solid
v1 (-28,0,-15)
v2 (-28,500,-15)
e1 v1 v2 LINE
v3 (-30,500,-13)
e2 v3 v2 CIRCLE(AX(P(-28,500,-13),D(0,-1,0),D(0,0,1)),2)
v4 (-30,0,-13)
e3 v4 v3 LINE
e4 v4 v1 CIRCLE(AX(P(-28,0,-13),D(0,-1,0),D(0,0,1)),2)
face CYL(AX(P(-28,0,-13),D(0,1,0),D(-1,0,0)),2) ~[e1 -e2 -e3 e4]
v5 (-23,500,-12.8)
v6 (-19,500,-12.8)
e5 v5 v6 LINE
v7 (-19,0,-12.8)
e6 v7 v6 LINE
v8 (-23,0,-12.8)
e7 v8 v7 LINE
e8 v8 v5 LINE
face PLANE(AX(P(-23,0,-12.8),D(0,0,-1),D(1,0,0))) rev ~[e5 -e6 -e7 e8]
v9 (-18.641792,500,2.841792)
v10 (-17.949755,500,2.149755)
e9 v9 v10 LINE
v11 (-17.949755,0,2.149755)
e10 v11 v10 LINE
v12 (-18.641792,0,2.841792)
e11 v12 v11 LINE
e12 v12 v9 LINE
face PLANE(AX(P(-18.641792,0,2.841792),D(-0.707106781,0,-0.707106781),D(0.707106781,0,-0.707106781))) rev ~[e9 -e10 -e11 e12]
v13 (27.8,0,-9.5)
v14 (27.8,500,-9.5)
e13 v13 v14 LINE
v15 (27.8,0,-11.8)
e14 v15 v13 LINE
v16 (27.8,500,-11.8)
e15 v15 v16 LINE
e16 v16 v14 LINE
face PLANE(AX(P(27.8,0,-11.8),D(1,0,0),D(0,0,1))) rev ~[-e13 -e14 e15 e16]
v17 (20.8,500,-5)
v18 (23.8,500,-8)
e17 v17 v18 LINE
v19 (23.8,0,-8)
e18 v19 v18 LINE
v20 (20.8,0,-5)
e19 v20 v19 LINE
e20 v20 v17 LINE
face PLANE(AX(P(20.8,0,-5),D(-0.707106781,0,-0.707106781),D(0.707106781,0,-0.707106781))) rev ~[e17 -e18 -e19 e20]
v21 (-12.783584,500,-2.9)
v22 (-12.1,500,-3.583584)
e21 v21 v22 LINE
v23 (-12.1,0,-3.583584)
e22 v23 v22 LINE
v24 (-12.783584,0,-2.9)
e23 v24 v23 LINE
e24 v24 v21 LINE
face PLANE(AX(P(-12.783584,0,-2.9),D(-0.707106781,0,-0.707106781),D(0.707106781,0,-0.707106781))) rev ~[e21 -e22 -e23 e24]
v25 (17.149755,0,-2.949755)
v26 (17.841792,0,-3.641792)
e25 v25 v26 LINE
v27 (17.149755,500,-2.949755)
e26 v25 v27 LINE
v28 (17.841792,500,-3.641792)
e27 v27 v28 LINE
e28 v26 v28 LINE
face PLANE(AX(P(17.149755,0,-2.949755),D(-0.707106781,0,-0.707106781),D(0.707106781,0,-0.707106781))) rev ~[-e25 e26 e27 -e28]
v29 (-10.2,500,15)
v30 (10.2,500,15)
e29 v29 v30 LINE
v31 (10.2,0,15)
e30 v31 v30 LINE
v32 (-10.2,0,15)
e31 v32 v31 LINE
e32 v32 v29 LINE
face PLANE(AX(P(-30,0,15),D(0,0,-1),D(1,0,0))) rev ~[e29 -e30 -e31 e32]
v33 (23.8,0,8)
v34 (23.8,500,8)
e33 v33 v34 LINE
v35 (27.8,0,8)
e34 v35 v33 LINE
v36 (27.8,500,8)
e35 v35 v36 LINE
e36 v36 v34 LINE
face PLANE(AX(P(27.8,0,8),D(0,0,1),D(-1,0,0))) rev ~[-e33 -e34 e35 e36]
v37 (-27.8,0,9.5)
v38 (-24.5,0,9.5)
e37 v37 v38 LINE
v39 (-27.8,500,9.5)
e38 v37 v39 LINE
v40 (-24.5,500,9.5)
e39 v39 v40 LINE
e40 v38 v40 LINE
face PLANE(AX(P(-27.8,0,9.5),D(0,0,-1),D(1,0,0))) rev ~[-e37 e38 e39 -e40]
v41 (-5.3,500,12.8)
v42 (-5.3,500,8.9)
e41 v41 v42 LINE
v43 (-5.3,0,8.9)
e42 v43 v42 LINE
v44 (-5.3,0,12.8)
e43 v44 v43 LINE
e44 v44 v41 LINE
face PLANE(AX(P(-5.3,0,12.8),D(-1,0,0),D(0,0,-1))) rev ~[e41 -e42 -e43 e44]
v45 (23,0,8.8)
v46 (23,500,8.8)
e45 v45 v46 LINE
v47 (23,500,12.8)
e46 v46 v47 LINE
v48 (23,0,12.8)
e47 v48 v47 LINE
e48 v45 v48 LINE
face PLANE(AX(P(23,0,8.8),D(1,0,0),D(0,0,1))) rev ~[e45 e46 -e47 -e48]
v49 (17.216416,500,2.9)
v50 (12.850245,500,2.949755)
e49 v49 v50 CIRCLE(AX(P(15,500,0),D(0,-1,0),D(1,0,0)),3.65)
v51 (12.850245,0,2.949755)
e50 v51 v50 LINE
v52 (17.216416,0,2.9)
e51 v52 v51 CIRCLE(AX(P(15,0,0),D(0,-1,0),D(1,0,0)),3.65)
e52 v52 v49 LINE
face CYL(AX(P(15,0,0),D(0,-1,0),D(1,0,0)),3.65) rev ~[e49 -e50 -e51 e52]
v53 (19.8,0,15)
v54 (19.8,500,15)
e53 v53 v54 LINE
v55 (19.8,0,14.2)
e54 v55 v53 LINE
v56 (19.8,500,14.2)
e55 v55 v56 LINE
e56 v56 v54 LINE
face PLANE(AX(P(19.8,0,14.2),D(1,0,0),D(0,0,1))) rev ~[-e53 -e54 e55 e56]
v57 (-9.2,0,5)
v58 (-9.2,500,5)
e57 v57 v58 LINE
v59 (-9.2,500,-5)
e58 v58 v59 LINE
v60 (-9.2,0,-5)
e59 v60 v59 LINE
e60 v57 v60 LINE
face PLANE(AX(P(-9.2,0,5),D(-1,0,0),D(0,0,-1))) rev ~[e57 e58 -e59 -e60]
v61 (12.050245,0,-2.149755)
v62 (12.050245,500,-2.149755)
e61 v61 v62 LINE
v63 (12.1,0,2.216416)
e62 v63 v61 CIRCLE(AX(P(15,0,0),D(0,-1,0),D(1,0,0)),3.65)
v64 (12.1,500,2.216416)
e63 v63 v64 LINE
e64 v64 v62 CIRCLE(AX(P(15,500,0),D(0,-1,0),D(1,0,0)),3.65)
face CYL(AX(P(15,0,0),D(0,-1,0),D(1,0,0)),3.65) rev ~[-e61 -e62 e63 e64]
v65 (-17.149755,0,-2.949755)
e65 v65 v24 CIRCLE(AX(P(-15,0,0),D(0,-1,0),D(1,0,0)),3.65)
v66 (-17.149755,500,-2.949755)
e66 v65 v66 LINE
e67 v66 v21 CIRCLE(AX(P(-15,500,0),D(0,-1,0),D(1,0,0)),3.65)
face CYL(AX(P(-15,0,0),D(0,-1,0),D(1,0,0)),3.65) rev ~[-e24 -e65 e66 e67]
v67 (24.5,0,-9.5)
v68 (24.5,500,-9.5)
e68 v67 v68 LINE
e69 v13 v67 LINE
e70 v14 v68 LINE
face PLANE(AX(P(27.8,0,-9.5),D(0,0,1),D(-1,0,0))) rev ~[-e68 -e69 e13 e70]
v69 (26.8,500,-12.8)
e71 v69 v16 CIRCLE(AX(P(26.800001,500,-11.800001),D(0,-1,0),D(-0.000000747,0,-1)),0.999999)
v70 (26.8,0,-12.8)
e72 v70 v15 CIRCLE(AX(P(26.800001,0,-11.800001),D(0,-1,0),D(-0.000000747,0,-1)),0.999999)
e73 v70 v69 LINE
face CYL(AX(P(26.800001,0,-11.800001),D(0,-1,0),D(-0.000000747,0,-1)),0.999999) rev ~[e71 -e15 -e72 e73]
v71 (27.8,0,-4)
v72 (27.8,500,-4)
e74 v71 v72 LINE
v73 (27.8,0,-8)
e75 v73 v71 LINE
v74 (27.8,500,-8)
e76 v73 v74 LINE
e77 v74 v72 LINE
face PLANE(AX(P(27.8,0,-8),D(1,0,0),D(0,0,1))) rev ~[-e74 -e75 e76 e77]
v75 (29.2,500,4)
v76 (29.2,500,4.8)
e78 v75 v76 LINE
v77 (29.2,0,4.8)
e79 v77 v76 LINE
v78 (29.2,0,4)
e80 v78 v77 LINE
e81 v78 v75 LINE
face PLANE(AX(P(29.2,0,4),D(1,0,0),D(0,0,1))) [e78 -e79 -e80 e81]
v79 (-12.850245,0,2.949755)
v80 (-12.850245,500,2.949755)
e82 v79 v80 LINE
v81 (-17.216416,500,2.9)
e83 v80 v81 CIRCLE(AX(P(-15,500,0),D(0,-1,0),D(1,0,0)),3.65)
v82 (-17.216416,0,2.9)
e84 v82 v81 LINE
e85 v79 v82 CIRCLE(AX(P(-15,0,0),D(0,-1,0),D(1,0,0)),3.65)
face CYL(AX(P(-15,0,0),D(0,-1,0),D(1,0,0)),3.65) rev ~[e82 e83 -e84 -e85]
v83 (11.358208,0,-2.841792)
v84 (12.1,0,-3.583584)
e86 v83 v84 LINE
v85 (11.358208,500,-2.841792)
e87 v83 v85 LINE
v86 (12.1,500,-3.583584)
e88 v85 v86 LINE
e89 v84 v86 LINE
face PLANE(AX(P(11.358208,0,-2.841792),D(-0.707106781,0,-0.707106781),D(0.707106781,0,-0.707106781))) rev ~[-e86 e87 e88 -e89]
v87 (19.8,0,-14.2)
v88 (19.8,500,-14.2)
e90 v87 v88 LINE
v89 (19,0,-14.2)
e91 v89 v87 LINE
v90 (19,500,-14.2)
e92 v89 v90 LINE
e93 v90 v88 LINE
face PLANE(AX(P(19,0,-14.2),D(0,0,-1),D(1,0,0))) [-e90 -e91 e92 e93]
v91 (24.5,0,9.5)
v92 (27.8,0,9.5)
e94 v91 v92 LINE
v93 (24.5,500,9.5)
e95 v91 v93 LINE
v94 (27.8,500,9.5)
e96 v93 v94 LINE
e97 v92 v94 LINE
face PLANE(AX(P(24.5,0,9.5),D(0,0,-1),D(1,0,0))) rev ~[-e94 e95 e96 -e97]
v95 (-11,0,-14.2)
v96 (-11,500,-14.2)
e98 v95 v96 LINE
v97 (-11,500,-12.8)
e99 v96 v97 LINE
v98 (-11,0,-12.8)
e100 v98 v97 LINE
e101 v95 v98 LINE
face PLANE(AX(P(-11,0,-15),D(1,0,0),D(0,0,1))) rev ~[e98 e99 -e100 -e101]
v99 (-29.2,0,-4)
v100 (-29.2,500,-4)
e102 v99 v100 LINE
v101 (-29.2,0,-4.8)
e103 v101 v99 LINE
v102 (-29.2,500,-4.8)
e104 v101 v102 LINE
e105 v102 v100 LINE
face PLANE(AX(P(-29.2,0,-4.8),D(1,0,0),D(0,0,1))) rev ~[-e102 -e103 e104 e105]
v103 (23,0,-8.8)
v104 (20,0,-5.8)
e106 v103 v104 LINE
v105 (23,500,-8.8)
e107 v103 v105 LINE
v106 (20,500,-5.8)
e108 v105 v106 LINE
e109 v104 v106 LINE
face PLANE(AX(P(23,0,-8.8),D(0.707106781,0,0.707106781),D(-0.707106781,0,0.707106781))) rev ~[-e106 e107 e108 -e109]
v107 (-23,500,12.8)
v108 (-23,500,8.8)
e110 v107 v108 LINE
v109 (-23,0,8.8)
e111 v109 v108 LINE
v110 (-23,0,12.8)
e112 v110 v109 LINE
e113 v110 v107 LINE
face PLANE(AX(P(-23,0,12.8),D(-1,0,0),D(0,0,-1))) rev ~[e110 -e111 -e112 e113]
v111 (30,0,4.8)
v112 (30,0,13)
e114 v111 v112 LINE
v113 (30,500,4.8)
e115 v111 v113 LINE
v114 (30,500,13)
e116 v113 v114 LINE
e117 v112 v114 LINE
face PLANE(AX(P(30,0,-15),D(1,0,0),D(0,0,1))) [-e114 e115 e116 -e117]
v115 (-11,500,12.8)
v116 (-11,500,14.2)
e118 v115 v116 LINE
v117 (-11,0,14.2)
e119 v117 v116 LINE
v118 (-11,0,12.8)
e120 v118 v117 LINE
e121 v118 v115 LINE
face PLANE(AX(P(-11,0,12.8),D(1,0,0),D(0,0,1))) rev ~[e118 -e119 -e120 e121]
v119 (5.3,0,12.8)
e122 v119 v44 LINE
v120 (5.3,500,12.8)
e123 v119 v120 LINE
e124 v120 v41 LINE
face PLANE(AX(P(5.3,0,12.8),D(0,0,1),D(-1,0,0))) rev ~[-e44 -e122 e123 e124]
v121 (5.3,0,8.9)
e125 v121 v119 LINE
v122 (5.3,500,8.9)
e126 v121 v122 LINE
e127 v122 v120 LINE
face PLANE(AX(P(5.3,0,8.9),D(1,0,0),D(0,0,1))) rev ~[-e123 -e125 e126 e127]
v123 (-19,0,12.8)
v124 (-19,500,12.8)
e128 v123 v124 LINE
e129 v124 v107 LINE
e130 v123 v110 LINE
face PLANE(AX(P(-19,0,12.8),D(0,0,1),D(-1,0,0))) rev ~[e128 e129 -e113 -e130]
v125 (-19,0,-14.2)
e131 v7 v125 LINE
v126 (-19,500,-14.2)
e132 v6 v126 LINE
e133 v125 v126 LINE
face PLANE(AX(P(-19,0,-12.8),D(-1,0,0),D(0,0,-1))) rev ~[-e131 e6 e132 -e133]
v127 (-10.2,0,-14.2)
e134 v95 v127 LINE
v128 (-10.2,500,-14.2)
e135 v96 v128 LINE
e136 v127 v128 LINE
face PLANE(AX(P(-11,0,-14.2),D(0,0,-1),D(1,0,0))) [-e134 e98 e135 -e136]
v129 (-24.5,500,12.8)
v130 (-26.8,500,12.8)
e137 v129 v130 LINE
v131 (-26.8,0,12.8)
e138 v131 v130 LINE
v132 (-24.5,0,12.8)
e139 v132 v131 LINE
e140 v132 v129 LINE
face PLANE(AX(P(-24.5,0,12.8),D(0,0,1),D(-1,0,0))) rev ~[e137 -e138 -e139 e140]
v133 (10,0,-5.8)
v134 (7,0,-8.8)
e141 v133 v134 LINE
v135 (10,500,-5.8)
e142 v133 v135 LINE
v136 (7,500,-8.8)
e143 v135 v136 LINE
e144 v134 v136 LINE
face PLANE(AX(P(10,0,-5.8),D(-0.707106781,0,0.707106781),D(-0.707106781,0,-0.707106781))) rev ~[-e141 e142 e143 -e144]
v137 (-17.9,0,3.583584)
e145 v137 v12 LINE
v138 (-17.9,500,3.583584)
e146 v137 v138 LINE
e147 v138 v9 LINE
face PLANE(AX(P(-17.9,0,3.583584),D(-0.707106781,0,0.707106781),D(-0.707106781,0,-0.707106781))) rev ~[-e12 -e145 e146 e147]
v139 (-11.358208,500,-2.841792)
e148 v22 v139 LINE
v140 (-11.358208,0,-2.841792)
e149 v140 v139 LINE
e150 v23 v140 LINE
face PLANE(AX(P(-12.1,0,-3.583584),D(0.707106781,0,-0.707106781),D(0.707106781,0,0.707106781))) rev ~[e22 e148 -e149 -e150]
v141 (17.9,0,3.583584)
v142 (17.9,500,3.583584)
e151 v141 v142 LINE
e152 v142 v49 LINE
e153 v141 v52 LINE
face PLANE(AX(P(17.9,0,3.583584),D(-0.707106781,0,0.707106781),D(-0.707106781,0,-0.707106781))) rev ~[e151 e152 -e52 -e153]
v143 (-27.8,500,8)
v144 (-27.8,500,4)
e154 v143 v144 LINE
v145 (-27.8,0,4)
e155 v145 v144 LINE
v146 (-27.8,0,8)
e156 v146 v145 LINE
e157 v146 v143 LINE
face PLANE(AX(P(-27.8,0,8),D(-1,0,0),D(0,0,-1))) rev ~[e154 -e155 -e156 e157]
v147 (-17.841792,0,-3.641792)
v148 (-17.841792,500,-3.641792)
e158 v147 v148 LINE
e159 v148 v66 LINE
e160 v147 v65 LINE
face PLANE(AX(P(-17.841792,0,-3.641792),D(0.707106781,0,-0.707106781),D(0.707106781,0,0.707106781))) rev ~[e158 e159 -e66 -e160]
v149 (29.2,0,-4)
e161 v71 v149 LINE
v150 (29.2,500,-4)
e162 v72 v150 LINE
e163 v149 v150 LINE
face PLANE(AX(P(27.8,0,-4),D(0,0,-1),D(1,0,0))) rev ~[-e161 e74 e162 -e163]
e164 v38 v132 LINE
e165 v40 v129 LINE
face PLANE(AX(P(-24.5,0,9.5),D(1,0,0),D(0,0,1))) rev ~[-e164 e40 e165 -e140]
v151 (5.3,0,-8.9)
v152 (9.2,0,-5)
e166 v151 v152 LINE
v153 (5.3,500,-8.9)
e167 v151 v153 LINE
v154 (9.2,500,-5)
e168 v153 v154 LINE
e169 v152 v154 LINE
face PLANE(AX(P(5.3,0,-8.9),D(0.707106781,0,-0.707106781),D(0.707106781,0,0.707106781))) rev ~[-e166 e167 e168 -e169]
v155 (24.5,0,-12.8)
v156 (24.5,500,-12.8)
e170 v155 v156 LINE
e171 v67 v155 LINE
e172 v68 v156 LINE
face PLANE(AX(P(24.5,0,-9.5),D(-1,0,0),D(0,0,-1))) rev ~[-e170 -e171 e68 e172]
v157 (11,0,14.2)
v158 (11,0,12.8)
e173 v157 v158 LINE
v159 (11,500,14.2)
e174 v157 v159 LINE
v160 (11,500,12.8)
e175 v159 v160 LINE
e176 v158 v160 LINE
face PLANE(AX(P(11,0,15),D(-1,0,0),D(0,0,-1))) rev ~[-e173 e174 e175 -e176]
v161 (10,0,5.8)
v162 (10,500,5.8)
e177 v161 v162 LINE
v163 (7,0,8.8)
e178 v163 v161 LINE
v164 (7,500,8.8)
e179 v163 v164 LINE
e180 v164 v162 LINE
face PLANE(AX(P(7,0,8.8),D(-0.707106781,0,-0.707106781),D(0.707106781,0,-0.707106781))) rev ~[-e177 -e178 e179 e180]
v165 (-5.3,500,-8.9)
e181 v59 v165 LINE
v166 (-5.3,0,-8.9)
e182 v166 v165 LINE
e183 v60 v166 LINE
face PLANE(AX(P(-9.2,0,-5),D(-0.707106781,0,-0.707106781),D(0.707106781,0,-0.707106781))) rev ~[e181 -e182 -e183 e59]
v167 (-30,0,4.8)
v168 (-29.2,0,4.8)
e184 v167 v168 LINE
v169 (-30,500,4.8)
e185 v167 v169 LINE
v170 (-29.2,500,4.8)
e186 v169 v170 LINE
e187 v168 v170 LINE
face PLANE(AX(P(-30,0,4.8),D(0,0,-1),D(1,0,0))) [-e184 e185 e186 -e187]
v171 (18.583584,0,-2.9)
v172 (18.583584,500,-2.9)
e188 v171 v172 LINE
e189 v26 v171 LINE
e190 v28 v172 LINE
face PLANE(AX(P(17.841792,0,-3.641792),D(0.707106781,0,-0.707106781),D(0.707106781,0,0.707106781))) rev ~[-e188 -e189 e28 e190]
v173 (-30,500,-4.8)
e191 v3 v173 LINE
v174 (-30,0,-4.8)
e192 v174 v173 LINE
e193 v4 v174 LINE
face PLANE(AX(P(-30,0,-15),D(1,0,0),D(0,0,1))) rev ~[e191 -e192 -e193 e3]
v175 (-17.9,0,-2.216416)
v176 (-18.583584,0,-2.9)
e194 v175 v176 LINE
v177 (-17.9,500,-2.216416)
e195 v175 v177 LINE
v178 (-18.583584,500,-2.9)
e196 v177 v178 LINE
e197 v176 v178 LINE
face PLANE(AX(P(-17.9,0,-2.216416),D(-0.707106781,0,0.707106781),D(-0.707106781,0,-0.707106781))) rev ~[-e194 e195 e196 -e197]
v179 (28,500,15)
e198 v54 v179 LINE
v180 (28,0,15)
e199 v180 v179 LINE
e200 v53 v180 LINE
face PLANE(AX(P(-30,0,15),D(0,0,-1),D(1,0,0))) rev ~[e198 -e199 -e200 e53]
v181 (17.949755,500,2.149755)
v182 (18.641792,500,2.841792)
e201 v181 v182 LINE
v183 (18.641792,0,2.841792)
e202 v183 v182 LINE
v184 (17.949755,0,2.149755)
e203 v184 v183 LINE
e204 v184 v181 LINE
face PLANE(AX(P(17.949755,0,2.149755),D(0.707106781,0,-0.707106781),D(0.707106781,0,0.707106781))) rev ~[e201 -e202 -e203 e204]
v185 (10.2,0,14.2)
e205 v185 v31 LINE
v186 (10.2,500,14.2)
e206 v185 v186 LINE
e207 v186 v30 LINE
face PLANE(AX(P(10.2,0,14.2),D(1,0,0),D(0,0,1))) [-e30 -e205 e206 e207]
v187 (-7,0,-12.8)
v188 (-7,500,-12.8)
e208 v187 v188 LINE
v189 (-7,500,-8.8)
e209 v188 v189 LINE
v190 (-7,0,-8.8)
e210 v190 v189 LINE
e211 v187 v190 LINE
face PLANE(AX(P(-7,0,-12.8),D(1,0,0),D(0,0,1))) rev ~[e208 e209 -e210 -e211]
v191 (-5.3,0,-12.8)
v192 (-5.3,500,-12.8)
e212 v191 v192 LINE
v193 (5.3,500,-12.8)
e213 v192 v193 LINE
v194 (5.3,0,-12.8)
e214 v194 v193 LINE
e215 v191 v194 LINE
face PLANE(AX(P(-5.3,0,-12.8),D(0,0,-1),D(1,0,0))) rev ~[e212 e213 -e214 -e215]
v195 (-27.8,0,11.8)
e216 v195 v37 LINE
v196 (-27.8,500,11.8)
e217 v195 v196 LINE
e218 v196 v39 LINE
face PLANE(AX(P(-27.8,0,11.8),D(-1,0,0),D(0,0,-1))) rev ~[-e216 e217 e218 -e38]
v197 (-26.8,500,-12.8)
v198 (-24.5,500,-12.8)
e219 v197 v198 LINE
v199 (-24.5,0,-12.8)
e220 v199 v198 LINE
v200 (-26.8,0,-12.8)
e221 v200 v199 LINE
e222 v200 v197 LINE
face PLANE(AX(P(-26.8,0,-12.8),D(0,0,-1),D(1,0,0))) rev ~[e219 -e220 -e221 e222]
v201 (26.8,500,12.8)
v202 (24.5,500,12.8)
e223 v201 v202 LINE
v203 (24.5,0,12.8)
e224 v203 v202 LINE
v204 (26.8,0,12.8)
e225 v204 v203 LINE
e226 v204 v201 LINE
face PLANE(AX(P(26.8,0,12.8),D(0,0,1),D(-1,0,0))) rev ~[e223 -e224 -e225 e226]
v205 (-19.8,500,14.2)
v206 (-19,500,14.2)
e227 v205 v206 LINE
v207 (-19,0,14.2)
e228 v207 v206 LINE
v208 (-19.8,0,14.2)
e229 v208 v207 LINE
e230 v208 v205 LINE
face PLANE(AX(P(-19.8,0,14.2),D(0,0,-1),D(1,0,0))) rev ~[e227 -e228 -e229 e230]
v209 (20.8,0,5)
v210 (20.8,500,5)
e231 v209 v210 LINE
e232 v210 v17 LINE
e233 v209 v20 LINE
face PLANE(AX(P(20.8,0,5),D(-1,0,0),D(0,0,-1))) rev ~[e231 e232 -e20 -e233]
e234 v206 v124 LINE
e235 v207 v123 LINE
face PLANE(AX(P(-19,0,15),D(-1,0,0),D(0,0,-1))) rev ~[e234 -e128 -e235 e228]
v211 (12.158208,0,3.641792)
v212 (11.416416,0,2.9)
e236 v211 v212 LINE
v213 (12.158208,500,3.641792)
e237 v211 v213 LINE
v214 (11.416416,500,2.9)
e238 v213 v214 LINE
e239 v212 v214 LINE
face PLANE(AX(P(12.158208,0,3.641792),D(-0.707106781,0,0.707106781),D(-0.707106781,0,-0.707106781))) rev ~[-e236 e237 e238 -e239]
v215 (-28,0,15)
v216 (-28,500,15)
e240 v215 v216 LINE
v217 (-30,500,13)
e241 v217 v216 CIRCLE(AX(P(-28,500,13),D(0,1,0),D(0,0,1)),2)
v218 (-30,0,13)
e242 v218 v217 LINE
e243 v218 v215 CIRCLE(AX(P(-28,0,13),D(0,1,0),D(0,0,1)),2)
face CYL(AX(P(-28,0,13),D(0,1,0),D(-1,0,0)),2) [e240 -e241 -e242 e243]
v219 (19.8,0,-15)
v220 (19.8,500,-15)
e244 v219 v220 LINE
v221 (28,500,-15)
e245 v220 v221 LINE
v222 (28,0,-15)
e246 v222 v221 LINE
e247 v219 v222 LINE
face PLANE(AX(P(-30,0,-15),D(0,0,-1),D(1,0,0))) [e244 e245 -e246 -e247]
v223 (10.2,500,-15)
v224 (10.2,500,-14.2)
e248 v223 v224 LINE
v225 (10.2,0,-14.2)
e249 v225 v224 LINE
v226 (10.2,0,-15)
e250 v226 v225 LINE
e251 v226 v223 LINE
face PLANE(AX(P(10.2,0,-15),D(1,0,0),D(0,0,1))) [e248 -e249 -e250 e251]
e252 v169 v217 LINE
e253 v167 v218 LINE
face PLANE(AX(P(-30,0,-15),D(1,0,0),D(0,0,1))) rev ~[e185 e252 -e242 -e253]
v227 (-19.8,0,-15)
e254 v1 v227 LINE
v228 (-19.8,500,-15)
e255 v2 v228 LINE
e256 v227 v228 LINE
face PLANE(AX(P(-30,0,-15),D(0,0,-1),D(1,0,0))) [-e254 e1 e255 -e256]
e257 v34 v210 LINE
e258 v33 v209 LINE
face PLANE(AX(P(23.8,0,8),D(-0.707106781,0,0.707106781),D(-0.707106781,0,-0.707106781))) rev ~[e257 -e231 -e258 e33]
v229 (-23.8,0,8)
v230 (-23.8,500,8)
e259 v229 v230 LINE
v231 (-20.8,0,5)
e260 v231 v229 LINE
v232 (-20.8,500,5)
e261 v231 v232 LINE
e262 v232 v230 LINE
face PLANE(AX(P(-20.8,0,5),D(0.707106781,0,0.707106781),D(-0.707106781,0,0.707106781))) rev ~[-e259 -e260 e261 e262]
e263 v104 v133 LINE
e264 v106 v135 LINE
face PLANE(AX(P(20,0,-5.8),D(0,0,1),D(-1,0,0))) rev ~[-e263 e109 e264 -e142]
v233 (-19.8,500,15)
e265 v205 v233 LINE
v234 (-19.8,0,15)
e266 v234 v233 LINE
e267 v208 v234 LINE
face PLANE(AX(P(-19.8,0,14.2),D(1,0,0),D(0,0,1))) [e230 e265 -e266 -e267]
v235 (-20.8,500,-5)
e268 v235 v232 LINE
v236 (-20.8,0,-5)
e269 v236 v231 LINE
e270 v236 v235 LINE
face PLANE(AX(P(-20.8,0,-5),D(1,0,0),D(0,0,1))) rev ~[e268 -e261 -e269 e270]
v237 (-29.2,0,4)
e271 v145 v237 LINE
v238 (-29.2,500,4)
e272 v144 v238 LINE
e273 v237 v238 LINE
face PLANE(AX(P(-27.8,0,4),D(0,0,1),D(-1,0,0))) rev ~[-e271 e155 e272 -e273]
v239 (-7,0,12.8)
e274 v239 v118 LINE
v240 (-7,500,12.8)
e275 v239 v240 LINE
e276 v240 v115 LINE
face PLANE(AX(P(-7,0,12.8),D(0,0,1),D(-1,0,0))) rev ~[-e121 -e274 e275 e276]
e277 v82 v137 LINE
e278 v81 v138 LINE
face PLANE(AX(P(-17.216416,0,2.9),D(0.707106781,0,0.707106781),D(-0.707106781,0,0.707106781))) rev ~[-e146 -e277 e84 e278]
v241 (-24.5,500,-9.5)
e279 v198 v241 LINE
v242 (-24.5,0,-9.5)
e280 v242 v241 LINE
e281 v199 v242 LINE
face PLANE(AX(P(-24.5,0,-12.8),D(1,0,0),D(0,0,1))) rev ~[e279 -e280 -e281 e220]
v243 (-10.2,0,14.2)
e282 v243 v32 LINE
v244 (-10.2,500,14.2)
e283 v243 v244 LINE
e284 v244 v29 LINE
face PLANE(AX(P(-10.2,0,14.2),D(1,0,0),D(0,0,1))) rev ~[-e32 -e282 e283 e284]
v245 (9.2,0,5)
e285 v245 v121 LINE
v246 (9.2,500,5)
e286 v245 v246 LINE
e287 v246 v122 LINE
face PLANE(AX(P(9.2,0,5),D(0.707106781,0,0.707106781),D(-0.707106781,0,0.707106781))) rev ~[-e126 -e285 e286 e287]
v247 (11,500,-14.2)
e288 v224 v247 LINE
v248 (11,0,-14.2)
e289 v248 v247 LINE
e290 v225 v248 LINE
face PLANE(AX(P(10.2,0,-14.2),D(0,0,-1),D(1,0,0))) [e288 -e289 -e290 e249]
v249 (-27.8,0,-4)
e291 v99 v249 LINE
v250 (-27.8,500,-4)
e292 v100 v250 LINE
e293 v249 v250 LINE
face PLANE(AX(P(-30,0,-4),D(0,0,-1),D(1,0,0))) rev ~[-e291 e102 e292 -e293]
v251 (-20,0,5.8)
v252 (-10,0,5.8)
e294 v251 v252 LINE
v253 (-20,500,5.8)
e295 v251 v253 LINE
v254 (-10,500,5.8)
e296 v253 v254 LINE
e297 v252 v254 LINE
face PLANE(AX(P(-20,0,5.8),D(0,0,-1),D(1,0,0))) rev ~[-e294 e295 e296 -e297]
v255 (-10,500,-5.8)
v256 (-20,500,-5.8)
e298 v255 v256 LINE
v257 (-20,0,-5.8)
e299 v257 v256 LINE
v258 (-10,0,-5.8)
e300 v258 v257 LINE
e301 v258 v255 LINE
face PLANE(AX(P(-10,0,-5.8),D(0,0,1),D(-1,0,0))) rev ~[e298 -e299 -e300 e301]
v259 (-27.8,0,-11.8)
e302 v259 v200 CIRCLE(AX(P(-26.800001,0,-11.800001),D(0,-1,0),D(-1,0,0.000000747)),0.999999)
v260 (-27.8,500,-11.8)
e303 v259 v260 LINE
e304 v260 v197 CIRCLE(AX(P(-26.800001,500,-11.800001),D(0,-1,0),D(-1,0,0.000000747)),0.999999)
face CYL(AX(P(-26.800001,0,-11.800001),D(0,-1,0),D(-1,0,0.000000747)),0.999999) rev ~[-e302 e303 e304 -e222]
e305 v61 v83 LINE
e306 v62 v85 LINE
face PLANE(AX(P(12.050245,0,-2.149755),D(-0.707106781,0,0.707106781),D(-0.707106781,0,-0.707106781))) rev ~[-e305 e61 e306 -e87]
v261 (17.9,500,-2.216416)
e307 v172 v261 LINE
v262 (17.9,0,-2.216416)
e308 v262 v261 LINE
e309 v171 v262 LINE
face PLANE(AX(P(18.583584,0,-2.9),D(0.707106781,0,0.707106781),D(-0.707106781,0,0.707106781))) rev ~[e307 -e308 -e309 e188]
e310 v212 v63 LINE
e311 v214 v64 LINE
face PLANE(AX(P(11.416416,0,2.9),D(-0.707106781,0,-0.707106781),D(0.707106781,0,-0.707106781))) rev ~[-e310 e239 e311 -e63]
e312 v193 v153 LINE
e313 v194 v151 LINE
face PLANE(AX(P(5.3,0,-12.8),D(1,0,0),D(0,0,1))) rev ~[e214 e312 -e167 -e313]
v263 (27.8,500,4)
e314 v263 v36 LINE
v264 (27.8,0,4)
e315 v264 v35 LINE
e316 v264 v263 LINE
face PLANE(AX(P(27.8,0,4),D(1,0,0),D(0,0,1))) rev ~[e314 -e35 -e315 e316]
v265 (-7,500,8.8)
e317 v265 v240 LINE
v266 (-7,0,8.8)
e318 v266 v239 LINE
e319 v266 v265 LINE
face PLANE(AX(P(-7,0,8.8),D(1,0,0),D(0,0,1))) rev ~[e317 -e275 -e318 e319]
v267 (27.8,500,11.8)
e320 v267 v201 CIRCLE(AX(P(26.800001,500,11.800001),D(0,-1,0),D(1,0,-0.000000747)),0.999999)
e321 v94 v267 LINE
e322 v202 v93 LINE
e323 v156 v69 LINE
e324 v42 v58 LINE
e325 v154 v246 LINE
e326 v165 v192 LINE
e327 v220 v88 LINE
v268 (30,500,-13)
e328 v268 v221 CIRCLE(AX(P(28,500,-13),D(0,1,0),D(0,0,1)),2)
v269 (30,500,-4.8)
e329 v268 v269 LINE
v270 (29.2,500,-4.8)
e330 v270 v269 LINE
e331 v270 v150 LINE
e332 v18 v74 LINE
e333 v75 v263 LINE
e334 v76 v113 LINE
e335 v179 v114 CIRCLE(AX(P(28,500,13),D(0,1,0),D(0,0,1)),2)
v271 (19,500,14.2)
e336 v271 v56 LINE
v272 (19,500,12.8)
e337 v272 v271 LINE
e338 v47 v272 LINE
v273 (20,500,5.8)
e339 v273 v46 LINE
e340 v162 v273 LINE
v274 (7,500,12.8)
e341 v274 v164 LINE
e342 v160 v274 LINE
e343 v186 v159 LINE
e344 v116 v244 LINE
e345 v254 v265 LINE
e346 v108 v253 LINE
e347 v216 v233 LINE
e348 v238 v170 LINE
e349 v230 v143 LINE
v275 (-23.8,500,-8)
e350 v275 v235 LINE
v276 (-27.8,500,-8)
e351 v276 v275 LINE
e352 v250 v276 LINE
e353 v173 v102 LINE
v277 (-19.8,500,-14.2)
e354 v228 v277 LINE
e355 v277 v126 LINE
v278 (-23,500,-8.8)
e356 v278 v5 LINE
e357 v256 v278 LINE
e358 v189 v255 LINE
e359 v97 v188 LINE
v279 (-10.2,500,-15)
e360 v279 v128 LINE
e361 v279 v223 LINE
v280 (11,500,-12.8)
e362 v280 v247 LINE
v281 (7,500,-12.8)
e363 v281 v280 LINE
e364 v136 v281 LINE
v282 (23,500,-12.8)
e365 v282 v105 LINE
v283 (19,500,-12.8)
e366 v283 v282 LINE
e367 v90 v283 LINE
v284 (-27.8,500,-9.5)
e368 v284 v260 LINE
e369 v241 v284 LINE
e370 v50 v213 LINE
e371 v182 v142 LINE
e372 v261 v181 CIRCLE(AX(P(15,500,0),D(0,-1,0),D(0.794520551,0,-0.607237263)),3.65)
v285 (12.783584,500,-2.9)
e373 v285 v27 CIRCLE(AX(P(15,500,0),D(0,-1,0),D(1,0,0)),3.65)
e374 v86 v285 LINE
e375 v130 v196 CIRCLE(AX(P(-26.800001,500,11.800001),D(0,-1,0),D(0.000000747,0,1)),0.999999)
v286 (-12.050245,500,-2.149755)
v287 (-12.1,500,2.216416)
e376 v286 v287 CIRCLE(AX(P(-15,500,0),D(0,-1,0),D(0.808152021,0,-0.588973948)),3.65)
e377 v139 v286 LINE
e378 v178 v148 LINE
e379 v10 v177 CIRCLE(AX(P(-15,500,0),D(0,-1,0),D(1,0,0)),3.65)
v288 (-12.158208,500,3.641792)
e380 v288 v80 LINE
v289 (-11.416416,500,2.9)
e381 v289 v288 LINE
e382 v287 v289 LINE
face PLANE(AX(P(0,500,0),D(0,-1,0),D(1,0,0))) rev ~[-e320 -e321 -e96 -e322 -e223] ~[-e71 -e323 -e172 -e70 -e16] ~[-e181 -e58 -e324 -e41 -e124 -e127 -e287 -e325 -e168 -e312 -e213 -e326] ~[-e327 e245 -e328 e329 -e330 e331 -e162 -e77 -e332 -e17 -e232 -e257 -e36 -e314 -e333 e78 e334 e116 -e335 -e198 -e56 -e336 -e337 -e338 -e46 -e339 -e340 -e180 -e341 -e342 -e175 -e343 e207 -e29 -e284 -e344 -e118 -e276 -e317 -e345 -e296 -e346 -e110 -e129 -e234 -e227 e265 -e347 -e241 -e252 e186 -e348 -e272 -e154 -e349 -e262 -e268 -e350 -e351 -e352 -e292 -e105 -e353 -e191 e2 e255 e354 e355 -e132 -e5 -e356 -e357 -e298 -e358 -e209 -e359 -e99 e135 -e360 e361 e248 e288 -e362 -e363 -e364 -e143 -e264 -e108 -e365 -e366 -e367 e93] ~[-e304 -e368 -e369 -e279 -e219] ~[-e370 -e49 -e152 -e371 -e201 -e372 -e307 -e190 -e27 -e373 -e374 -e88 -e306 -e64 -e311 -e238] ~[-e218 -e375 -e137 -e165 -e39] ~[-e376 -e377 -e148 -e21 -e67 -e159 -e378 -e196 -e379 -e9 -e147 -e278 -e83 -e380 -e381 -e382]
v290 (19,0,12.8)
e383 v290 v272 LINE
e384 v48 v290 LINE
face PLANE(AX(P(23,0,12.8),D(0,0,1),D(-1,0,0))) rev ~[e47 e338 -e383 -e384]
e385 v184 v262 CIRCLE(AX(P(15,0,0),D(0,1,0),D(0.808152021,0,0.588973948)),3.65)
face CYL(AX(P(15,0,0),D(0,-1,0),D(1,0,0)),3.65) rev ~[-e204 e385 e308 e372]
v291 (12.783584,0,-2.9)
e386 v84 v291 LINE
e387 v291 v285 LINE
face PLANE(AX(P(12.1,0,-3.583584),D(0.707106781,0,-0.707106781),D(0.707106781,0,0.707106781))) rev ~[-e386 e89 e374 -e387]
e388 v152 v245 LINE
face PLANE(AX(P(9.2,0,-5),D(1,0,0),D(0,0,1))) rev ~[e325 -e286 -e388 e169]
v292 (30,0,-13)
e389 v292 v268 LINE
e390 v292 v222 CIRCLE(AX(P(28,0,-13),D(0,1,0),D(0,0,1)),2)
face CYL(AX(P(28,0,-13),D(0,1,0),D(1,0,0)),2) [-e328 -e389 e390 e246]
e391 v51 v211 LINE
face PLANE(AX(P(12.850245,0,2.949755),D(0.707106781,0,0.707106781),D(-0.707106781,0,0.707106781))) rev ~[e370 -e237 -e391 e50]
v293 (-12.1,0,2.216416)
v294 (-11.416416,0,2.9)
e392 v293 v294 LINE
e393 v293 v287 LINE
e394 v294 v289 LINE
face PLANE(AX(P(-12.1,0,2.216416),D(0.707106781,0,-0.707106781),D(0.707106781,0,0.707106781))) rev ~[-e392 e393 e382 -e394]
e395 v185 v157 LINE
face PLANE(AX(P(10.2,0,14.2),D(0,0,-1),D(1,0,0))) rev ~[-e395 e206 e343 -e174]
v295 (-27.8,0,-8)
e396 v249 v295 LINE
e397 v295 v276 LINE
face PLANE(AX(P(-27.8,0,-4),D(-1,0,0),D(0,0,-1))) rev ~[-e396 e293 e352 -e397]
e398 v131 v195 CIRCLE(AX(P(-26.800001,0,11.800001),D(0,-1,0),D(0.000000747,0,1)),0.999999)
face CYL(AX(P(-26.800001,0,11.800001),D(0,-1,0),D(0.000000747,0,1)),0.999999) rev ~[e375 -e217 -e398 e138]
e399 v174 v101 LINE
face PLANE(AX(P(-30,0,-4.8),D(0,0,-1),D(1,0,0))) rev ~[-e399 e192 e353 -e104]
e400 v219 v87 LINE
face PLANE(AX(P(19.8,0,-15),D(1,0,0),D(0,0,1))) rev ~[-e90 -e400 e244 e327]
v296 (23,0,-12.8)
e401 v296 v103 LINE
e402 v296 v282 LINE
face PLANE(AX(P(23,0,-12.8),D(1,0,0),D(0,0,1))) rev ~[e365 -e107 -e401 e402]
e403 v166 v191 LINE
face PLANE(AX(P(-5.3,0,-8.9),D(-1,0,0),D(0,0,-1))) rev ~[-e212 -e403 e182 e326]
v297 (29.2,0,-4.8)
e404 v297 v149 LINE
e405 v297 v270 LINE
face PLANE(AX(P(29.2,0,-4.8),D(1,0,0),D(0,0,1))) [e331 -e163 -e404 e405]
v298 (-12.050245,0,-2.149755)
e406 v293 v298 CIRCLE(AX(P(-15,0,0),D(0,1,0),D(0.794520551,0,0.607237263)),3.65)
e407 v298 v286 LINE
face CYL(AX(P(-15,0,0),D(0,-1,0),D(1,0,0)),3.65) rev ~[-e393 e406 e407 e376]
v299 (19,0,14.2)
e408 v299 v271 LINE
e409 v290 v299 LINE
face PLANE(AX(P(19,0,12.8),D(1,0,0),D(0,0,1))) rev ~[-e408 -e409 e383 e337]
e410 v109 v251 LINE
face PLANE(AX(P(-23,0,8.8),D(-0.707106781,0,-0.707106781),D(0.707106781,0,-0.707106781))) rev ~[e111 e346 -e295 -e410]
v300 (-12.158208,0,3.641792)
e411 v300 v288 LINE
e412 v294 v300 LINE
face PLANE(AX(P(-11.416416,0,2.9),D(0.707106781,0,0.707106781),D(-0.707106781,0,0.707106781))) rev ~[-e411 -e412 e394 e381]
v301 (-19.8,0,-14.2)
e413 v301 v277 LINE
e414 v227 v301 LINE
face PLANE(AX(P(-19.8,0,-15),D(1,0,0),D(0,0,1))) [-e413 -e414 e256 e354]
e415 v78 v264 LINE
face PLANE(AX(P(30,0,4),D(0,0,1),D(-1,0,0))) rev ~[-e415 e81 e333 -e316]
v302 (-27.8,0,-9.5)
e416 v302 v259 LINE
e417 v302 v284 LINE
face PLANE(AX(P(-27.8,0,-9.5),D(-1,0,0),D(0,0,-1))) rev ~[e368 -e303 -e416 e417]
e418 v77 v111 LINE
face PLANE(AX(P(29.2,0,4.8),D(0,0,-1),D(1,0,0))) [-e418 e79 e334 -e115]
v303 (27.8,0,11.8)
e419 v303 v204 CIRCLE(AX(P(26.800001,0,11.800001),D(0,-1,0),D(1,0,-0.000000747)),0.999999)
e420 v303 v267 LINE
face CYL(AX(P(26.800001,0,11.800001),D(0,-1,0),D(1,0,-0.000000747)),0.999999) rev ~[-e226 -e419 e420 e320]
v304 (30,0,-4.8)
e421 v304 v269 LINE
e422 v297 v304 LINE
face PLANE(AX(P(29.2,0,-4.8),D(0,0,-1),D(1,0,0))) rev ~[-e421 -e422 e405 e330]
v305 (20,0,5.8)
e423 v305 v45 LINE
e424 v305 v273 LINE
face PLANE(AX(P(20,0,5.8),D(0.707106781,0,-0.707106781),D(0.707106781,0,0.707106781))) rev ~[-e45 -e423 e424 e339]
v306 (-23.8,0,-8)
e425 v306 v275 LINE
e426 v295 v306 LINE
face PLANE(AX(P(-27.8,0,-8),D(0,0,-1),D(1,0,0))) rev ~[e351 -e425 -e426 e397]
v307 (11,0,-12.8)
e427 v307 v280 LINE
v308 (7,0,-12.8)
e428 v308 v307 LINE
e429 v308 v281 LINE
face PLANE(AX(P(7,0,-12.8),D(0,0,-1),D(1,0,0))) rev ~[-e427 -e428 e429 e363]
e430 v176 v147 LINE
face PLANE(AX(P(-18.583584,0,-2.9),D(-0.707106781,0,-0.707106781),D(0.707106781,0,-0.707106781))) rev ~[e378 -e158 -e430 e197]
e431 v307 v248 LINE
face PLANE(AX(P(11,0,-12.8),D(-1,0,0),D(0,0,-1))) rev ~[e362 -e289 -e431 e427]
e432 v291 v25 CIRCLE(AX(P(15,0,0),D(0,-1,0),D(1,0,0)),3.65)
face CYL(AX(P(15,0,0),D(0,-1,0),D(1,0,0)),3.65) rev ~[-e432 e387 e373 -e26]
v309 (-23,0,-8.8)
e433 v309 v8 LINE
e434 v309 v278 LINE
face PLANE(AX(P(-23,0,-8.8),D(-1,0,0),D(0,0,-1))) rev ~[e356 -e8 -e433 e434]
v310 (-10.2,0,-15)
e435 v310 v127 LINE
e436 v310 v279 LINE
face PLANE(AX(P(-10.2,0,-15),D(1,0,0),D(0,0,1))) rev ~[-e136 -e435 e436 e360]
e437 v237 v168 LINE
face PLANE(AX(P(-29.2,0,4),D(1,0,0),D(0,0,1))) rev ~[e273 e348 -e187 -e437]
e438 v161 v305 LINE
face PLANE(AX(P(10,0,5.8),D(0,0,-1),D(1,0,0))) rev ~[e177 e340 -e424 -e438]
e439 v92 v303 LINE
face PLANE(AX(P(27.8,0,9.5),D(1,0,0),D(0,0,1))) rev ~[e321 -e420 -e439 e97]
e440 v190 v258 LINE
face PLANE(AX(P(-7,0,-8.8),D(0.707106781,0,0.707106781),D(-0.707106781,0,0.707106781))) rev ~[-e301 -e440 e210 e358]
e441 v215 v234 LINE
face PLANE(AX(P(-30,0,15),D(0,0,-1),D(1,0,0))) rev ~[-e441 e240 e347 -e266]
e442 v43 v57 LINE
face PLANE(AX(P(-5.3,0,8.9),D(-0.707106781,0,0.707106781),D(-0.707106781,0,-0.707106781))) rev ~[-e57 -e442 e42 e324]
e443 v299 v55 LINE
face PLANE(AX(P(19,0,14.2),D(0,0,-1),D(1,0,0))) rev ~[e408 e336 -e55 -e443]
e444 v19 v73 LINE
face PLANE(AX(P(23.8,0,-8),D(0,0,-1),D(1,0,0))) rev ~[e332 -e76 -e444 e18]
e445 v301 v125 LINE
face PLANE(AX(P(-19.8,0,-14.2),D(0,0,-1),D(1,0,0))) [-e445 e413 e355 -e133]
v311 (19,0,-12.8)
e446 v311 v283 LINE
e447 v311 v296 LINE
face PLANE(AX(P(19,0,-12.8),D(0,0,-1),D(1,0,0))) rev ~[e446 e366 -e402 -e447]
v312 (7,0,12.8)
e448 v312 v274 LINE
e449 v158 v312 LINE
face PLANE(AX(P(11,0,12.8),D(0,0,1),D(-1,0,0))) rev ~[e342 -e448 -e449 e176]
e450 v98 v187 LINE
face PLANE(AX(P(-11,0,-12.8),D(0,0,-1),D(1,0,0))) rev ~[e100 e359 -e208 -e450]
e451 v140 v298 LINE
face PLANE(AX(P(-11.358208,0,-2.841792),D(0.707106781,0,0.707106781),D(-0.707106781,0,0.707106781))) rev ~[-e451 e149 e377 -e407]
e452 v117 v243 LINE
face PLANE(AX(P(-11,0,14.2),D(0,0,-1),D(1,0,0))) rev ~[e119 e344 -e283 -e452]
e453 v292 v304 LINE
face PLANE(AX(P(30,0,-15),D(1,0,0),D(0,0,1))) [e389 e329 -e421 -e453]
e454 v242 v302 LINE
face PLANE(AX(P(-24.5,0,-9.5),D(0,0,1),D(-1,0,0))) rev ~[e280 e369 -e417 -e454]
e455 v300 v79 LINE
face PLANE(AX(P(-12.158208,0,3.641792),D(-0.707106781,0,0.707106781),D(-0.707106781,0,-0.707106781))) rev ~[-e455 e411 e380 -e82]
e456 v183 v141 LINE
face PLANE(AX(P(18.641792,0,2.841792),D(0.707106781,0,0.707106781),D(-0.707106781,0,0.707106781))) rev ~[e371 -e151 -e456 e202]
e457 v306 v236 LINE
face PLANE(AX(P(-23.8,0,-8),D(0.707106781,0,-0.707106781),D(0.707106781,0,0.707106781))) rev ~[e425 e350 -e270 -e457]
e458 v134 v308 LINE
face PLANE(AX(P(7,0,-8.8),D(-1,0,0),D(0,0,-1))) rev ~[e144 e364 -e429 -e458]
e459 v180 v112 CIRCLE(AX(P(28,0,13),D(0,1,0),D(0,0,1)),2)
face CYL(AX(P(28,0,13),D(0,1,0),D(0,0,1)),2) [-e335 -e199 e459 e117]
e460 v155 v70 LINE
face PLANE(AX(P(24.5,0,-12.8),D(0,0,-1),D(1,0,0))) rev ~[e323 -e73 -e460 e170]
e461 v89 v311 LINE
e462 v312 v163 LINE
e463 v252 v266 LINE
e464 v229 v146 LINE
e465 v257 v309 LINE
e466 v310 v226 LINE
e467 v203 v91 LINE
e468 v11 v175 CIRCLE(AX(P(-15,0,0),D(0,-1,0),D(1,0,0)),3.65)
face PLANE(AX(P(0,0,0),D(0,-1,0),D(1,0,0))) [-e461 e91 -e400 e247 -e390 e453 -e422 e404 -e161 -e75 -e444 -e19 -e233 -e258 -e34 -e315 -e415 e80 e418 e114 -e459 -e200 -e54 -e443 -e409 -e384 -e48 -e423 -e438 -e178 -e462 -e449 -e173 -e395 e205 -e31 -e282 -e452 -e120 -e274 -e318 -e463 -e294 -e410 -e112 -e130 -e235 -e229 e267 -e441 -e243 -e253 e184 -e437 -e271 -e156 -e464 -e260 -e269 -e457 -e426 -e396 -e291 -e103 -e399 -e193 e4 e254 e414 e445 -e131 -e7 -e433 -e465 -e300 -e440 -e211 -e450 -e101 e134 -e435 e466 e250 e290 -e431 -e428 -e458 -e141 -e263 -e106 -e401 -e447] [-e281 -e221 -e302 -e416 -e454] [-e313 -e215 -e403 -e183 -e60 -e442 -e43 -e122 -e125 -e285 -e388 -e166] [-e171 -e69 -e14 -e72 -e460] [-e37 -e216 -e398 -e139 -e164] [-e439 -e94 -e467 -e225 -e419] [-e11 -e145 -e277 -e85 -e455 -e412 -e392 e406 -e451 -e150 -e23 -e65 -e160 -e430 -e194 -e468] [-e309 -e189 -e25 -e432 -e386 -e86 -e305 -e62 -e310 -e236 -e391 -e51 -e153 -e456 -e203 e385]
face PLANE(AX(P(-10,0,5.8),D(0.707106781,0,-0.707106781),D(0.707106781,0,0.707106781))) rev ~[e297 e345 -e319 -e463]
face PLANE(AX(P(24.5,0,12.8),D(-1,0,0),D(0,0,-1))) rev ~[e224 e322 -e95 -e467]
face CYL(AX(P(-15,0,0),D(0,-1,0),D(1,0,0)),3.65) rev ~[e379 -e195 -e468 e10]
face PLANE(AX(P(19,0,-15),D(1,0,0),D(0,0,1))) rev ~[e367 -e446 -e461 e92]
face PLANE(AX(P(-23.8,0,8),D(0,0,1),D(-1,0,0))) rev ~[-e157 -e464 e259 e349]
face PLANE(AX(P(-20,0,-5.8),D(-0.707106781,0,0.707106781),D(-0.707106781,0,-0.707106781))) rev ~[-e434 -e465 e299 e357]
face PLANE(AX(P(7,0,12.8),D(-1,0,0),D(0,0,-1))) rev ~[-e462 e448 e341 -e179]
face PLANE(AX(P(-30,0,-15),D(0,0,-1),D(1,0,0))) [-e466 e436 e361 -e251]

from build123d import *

# Parameters (mm, degrees)
F0_W      = 60
F0_H      = 30
F1_DEPTH  = 500
F2_R      = 3.65
F3_DEPTH  = 500.001
F5_DEPTH  = 500.001
F6_R      = 2
F8_DEPTH  = 500.001
F10_DEPTH = 500.001
F11_W     = 0.8
F11_H     = 0.8
F12_DEPTH = 500.001


with BuildPart() as f1:
    # F0 (on Front) → F1 (new body)
    with BuildSketch(Plane.XZ):
        Rectangle(F0_W, F0_H)
    extrude(amount=-F1_DEPTH)

    # F2 (on face) → F3 (cut, through all)
    with BuildSketch(Plane.XZ):
        with Locations((-15, 0)):
            Circle(F2_R)
        with Locations((15, 0)):
            Circle(F2_R)
    extrude(amount=-F3_DEPTH, mode=Mode.SUBTRACT)

    # F4 (on face) → F5 (cut, through all)
    with BuildSketch(Plane.XZ):
        Polygon((-11, 15), (-15, 15), (-19, 15), (-19, 12.8), (-23, 12.8), (-23, 8.8), (-20, 5.8), (-15, 5.8), (-10, 5.8), (-7, 8.8), (-7, 12.8), (-11, 12.8), align=None)
        Polygon((19, 12.8), (19, 15), (15, 15), (11, 15), (11, 12.8), (7, 12.8), (7, 8.8), (10, 5.8), (15, 5.8), (20, 5.8), (23, 8.8), (23, 12.8), align=None)
        Polygon((23.8, 8), (20.8, 5), (20.8, 0), (20.8, -5), (23.8, -8), (27.8, -8), (27.8, -4), (30, -4), (30, 0), (30, 4), (27.8, 4), (27.8, 8), align=None)
        Polygon((23, -8.8), (20, -5.8), (15, -5.8), (10, -5.8), (7, -8.8), (7, -12.8), (11, -12.8), (11, -15), (15, -15), (19, -15), (19, -12.8), (23, -12.8), align=None)
        Polygon((-20.8, 0), (-20.8, 5), (-23.8, 8), (-27.8, 8), (-27.8, 4), (-30, 4), (-30, 0), (-30, -4), (-27.8, -4), (-27.8, -8), (-23.8, -8), (-20.8, -5), align=None)
        Polygon((-23, -12.8), (-19, -12.8), (-19, -15), (-15, -15), (-11, -15), (-11, -12.8), (-7, -12.8), (-7, -8.8), (-10, -5.8), (-15, -5.8), (-20, -5.8), (-23, -8.8), align=None)
        Polygon((-5.3, 8.9), (-9.2, 5), (-9.2, 0), (-9.2, -5), (-5.3, -8.9), (-5.3, -12.8), (0, -12.8), (5.3, -12.8), (5.3, -8.9), (9.2, -5), (9.2, 0), (9.2, 5), (5.3, 8.9), (5.3, 12.8), (0, 12.8), (-5.3, 12.8), align=None)
    extrude(amount=-F5_DEPTH, mode=Mode.SUBTRACT)

    # F6
    f6_edges = [f1.edges().sort_by_distance(p)[0] for p in [
        (-30, 250, 15),
        (30, 250, 15),
        (30, 250, -15),
        (-30, 250, -15),
    ]]
    fillet(f6_edges, radius=F6_R)

    # F7 (on face) → F8 (cut, through all)
    with BuildSketch(Plane.XZ):
        with BuildLine():
            Line((-27.8, 9.5), (-24.5, 9.5))
            Line((-24.5, 9.5), (-24.5, 12.8))
            Line((-24.5, 12.8), (-26.8, 12.8))
            ThreePointArc((-26.8, 12.8), (-27.507107, 12.507107), (-27.8, 11.8))
            Line((-27.8, 11.8), (-27.8, 9.5))
        make_face()
        with BuildLine():
            Line((26.8, 12.8), (24.5, 12.8))
            Line((24.5, 12.8), (24.5, 9.5))
            Line((24.5, 9.5), (27.8, 9.5))
            Line((27.8, 9.5), (27.8, 11.8))
            ThreePointArc((27.8, 11.8), (27.507107, 12.507107), (26.8, 12.8))
        make_face()
        with BuildLine():
            Line((24.5, -12.8), (26.8, -12.8))
            ThreePointArc((26.8, -12.8), (27.507107, -12.507107), (27.8, -11.8))
            Line((27.8, -11.8), (27.8, -9.5))
            Line((27.8, -9.5), (24.5, -9.5))
            Line((24.5, -9.5), (24.5, -12.8))
        make_face()
        with BuildLine():
            Line((-24.5, -9.5), (-27.8, -9.5))
            Line((-27.8, -9.5), (-27.8, -11.8))
            ThreePointArc((-27.8, -11.8), (-27.507107, -12.507107), (-26.8, -12.8))
            Line((-26.8, -12.8), (-24.5, -12.8))
            Line((-24.5, -12.8), (-24.5, -9.5))
        make_face()
    extrude(amount=-F8_DEPTH, mode=Mode.SUBTRACT)

    # F9 (on face) → F10 (cut, through all)
    with BuildSketch(Plane.XZ):
        Polygon((-18.641792, 2.841792), (-17.949755, 2.149755), (-17.216416, 2.9), (-17.9, 3.583584), align=None)
        Polygon((-17.841792, -3.641792), (-17.149755, -2.949755), (-17.9, -2.216416), (-18.583584, -2.9), align=None)
        Polygon((-11.358208, -2.841792), (-12.050245, -2.149755), (-12.783584, -2.9), (-12.1, -3.583584), align=None)
        Polygon((-12.158208, 3.641792), (-12.850245, 2.949755), (-12.1, 2.216416), (-11.416416, 2.9), align=None)
        Polygon((11.416416, 2.9), (12.1, 2.216416), (12.850245, 2.949755), (12.158208, 3.641792), align=None)
        Polygon((17.216416, 2.9), (17.949755, 2.149755), (18.641792, 2.841792), (17.9, 3.583584), align=None)
        Polygon((17.841792, -3.641792), (18.583584, -2.9), (17.9, -2.216416), (17.149755, -2.949755), align=None)
        Polygon((12.783584, -2.9), (12.050245, -2.149755), (11.358208, -2.841792), (12.1, -3.583584), align=None)
    extrude(amount=-F10_DEPTH, mode=Mode.SUBTRACT)

    # F11 (on face) → F12 (cut, through all)
    with BuildSketch(Plane.XZ):
        with Locations((10.6, 14.6)):
            Rectangle(F11_W, F11_H)
        with Locations((19.4, 14.6)):
            Rectangle(F11_W, F11_H)
        with Locations((29.6, -4.4)):
            Rectangle(F11_W, F11_H)
        with Locations((29.6, 4.4)):
            Rectangle(F11_W, F11_H)
        with Locations((10.6, -14.6)):
            Rectangle(F11_W, F11_H)
        with Locations((19.4, -14.6)):
            Rectangle(F11_W, F11_H)
        with Locations((-10.6, 14.6)):
            Rectangle(F11_W, F11_H)
        with Locations((-19.4, 14.6)):
            Rectangle(F11_W, F11_H)
        with Locations((-29.6, 4.4)):
            Rectangle(F11_W, F11_H)
        with Locations((-29.6, -4.4)):
            Rectangle(F11_W, F11_H)
        with Locations((-19.4, -14.6)):
            Rectangle(F11_W, F11_H)
        with Locations((-10.6, -14.6)):
            Rectangle(F11_W, F11_H)
    extrude(amount=-F12_DEPTH, mode=Mode.SUBTRACT)


solid = f1.part
